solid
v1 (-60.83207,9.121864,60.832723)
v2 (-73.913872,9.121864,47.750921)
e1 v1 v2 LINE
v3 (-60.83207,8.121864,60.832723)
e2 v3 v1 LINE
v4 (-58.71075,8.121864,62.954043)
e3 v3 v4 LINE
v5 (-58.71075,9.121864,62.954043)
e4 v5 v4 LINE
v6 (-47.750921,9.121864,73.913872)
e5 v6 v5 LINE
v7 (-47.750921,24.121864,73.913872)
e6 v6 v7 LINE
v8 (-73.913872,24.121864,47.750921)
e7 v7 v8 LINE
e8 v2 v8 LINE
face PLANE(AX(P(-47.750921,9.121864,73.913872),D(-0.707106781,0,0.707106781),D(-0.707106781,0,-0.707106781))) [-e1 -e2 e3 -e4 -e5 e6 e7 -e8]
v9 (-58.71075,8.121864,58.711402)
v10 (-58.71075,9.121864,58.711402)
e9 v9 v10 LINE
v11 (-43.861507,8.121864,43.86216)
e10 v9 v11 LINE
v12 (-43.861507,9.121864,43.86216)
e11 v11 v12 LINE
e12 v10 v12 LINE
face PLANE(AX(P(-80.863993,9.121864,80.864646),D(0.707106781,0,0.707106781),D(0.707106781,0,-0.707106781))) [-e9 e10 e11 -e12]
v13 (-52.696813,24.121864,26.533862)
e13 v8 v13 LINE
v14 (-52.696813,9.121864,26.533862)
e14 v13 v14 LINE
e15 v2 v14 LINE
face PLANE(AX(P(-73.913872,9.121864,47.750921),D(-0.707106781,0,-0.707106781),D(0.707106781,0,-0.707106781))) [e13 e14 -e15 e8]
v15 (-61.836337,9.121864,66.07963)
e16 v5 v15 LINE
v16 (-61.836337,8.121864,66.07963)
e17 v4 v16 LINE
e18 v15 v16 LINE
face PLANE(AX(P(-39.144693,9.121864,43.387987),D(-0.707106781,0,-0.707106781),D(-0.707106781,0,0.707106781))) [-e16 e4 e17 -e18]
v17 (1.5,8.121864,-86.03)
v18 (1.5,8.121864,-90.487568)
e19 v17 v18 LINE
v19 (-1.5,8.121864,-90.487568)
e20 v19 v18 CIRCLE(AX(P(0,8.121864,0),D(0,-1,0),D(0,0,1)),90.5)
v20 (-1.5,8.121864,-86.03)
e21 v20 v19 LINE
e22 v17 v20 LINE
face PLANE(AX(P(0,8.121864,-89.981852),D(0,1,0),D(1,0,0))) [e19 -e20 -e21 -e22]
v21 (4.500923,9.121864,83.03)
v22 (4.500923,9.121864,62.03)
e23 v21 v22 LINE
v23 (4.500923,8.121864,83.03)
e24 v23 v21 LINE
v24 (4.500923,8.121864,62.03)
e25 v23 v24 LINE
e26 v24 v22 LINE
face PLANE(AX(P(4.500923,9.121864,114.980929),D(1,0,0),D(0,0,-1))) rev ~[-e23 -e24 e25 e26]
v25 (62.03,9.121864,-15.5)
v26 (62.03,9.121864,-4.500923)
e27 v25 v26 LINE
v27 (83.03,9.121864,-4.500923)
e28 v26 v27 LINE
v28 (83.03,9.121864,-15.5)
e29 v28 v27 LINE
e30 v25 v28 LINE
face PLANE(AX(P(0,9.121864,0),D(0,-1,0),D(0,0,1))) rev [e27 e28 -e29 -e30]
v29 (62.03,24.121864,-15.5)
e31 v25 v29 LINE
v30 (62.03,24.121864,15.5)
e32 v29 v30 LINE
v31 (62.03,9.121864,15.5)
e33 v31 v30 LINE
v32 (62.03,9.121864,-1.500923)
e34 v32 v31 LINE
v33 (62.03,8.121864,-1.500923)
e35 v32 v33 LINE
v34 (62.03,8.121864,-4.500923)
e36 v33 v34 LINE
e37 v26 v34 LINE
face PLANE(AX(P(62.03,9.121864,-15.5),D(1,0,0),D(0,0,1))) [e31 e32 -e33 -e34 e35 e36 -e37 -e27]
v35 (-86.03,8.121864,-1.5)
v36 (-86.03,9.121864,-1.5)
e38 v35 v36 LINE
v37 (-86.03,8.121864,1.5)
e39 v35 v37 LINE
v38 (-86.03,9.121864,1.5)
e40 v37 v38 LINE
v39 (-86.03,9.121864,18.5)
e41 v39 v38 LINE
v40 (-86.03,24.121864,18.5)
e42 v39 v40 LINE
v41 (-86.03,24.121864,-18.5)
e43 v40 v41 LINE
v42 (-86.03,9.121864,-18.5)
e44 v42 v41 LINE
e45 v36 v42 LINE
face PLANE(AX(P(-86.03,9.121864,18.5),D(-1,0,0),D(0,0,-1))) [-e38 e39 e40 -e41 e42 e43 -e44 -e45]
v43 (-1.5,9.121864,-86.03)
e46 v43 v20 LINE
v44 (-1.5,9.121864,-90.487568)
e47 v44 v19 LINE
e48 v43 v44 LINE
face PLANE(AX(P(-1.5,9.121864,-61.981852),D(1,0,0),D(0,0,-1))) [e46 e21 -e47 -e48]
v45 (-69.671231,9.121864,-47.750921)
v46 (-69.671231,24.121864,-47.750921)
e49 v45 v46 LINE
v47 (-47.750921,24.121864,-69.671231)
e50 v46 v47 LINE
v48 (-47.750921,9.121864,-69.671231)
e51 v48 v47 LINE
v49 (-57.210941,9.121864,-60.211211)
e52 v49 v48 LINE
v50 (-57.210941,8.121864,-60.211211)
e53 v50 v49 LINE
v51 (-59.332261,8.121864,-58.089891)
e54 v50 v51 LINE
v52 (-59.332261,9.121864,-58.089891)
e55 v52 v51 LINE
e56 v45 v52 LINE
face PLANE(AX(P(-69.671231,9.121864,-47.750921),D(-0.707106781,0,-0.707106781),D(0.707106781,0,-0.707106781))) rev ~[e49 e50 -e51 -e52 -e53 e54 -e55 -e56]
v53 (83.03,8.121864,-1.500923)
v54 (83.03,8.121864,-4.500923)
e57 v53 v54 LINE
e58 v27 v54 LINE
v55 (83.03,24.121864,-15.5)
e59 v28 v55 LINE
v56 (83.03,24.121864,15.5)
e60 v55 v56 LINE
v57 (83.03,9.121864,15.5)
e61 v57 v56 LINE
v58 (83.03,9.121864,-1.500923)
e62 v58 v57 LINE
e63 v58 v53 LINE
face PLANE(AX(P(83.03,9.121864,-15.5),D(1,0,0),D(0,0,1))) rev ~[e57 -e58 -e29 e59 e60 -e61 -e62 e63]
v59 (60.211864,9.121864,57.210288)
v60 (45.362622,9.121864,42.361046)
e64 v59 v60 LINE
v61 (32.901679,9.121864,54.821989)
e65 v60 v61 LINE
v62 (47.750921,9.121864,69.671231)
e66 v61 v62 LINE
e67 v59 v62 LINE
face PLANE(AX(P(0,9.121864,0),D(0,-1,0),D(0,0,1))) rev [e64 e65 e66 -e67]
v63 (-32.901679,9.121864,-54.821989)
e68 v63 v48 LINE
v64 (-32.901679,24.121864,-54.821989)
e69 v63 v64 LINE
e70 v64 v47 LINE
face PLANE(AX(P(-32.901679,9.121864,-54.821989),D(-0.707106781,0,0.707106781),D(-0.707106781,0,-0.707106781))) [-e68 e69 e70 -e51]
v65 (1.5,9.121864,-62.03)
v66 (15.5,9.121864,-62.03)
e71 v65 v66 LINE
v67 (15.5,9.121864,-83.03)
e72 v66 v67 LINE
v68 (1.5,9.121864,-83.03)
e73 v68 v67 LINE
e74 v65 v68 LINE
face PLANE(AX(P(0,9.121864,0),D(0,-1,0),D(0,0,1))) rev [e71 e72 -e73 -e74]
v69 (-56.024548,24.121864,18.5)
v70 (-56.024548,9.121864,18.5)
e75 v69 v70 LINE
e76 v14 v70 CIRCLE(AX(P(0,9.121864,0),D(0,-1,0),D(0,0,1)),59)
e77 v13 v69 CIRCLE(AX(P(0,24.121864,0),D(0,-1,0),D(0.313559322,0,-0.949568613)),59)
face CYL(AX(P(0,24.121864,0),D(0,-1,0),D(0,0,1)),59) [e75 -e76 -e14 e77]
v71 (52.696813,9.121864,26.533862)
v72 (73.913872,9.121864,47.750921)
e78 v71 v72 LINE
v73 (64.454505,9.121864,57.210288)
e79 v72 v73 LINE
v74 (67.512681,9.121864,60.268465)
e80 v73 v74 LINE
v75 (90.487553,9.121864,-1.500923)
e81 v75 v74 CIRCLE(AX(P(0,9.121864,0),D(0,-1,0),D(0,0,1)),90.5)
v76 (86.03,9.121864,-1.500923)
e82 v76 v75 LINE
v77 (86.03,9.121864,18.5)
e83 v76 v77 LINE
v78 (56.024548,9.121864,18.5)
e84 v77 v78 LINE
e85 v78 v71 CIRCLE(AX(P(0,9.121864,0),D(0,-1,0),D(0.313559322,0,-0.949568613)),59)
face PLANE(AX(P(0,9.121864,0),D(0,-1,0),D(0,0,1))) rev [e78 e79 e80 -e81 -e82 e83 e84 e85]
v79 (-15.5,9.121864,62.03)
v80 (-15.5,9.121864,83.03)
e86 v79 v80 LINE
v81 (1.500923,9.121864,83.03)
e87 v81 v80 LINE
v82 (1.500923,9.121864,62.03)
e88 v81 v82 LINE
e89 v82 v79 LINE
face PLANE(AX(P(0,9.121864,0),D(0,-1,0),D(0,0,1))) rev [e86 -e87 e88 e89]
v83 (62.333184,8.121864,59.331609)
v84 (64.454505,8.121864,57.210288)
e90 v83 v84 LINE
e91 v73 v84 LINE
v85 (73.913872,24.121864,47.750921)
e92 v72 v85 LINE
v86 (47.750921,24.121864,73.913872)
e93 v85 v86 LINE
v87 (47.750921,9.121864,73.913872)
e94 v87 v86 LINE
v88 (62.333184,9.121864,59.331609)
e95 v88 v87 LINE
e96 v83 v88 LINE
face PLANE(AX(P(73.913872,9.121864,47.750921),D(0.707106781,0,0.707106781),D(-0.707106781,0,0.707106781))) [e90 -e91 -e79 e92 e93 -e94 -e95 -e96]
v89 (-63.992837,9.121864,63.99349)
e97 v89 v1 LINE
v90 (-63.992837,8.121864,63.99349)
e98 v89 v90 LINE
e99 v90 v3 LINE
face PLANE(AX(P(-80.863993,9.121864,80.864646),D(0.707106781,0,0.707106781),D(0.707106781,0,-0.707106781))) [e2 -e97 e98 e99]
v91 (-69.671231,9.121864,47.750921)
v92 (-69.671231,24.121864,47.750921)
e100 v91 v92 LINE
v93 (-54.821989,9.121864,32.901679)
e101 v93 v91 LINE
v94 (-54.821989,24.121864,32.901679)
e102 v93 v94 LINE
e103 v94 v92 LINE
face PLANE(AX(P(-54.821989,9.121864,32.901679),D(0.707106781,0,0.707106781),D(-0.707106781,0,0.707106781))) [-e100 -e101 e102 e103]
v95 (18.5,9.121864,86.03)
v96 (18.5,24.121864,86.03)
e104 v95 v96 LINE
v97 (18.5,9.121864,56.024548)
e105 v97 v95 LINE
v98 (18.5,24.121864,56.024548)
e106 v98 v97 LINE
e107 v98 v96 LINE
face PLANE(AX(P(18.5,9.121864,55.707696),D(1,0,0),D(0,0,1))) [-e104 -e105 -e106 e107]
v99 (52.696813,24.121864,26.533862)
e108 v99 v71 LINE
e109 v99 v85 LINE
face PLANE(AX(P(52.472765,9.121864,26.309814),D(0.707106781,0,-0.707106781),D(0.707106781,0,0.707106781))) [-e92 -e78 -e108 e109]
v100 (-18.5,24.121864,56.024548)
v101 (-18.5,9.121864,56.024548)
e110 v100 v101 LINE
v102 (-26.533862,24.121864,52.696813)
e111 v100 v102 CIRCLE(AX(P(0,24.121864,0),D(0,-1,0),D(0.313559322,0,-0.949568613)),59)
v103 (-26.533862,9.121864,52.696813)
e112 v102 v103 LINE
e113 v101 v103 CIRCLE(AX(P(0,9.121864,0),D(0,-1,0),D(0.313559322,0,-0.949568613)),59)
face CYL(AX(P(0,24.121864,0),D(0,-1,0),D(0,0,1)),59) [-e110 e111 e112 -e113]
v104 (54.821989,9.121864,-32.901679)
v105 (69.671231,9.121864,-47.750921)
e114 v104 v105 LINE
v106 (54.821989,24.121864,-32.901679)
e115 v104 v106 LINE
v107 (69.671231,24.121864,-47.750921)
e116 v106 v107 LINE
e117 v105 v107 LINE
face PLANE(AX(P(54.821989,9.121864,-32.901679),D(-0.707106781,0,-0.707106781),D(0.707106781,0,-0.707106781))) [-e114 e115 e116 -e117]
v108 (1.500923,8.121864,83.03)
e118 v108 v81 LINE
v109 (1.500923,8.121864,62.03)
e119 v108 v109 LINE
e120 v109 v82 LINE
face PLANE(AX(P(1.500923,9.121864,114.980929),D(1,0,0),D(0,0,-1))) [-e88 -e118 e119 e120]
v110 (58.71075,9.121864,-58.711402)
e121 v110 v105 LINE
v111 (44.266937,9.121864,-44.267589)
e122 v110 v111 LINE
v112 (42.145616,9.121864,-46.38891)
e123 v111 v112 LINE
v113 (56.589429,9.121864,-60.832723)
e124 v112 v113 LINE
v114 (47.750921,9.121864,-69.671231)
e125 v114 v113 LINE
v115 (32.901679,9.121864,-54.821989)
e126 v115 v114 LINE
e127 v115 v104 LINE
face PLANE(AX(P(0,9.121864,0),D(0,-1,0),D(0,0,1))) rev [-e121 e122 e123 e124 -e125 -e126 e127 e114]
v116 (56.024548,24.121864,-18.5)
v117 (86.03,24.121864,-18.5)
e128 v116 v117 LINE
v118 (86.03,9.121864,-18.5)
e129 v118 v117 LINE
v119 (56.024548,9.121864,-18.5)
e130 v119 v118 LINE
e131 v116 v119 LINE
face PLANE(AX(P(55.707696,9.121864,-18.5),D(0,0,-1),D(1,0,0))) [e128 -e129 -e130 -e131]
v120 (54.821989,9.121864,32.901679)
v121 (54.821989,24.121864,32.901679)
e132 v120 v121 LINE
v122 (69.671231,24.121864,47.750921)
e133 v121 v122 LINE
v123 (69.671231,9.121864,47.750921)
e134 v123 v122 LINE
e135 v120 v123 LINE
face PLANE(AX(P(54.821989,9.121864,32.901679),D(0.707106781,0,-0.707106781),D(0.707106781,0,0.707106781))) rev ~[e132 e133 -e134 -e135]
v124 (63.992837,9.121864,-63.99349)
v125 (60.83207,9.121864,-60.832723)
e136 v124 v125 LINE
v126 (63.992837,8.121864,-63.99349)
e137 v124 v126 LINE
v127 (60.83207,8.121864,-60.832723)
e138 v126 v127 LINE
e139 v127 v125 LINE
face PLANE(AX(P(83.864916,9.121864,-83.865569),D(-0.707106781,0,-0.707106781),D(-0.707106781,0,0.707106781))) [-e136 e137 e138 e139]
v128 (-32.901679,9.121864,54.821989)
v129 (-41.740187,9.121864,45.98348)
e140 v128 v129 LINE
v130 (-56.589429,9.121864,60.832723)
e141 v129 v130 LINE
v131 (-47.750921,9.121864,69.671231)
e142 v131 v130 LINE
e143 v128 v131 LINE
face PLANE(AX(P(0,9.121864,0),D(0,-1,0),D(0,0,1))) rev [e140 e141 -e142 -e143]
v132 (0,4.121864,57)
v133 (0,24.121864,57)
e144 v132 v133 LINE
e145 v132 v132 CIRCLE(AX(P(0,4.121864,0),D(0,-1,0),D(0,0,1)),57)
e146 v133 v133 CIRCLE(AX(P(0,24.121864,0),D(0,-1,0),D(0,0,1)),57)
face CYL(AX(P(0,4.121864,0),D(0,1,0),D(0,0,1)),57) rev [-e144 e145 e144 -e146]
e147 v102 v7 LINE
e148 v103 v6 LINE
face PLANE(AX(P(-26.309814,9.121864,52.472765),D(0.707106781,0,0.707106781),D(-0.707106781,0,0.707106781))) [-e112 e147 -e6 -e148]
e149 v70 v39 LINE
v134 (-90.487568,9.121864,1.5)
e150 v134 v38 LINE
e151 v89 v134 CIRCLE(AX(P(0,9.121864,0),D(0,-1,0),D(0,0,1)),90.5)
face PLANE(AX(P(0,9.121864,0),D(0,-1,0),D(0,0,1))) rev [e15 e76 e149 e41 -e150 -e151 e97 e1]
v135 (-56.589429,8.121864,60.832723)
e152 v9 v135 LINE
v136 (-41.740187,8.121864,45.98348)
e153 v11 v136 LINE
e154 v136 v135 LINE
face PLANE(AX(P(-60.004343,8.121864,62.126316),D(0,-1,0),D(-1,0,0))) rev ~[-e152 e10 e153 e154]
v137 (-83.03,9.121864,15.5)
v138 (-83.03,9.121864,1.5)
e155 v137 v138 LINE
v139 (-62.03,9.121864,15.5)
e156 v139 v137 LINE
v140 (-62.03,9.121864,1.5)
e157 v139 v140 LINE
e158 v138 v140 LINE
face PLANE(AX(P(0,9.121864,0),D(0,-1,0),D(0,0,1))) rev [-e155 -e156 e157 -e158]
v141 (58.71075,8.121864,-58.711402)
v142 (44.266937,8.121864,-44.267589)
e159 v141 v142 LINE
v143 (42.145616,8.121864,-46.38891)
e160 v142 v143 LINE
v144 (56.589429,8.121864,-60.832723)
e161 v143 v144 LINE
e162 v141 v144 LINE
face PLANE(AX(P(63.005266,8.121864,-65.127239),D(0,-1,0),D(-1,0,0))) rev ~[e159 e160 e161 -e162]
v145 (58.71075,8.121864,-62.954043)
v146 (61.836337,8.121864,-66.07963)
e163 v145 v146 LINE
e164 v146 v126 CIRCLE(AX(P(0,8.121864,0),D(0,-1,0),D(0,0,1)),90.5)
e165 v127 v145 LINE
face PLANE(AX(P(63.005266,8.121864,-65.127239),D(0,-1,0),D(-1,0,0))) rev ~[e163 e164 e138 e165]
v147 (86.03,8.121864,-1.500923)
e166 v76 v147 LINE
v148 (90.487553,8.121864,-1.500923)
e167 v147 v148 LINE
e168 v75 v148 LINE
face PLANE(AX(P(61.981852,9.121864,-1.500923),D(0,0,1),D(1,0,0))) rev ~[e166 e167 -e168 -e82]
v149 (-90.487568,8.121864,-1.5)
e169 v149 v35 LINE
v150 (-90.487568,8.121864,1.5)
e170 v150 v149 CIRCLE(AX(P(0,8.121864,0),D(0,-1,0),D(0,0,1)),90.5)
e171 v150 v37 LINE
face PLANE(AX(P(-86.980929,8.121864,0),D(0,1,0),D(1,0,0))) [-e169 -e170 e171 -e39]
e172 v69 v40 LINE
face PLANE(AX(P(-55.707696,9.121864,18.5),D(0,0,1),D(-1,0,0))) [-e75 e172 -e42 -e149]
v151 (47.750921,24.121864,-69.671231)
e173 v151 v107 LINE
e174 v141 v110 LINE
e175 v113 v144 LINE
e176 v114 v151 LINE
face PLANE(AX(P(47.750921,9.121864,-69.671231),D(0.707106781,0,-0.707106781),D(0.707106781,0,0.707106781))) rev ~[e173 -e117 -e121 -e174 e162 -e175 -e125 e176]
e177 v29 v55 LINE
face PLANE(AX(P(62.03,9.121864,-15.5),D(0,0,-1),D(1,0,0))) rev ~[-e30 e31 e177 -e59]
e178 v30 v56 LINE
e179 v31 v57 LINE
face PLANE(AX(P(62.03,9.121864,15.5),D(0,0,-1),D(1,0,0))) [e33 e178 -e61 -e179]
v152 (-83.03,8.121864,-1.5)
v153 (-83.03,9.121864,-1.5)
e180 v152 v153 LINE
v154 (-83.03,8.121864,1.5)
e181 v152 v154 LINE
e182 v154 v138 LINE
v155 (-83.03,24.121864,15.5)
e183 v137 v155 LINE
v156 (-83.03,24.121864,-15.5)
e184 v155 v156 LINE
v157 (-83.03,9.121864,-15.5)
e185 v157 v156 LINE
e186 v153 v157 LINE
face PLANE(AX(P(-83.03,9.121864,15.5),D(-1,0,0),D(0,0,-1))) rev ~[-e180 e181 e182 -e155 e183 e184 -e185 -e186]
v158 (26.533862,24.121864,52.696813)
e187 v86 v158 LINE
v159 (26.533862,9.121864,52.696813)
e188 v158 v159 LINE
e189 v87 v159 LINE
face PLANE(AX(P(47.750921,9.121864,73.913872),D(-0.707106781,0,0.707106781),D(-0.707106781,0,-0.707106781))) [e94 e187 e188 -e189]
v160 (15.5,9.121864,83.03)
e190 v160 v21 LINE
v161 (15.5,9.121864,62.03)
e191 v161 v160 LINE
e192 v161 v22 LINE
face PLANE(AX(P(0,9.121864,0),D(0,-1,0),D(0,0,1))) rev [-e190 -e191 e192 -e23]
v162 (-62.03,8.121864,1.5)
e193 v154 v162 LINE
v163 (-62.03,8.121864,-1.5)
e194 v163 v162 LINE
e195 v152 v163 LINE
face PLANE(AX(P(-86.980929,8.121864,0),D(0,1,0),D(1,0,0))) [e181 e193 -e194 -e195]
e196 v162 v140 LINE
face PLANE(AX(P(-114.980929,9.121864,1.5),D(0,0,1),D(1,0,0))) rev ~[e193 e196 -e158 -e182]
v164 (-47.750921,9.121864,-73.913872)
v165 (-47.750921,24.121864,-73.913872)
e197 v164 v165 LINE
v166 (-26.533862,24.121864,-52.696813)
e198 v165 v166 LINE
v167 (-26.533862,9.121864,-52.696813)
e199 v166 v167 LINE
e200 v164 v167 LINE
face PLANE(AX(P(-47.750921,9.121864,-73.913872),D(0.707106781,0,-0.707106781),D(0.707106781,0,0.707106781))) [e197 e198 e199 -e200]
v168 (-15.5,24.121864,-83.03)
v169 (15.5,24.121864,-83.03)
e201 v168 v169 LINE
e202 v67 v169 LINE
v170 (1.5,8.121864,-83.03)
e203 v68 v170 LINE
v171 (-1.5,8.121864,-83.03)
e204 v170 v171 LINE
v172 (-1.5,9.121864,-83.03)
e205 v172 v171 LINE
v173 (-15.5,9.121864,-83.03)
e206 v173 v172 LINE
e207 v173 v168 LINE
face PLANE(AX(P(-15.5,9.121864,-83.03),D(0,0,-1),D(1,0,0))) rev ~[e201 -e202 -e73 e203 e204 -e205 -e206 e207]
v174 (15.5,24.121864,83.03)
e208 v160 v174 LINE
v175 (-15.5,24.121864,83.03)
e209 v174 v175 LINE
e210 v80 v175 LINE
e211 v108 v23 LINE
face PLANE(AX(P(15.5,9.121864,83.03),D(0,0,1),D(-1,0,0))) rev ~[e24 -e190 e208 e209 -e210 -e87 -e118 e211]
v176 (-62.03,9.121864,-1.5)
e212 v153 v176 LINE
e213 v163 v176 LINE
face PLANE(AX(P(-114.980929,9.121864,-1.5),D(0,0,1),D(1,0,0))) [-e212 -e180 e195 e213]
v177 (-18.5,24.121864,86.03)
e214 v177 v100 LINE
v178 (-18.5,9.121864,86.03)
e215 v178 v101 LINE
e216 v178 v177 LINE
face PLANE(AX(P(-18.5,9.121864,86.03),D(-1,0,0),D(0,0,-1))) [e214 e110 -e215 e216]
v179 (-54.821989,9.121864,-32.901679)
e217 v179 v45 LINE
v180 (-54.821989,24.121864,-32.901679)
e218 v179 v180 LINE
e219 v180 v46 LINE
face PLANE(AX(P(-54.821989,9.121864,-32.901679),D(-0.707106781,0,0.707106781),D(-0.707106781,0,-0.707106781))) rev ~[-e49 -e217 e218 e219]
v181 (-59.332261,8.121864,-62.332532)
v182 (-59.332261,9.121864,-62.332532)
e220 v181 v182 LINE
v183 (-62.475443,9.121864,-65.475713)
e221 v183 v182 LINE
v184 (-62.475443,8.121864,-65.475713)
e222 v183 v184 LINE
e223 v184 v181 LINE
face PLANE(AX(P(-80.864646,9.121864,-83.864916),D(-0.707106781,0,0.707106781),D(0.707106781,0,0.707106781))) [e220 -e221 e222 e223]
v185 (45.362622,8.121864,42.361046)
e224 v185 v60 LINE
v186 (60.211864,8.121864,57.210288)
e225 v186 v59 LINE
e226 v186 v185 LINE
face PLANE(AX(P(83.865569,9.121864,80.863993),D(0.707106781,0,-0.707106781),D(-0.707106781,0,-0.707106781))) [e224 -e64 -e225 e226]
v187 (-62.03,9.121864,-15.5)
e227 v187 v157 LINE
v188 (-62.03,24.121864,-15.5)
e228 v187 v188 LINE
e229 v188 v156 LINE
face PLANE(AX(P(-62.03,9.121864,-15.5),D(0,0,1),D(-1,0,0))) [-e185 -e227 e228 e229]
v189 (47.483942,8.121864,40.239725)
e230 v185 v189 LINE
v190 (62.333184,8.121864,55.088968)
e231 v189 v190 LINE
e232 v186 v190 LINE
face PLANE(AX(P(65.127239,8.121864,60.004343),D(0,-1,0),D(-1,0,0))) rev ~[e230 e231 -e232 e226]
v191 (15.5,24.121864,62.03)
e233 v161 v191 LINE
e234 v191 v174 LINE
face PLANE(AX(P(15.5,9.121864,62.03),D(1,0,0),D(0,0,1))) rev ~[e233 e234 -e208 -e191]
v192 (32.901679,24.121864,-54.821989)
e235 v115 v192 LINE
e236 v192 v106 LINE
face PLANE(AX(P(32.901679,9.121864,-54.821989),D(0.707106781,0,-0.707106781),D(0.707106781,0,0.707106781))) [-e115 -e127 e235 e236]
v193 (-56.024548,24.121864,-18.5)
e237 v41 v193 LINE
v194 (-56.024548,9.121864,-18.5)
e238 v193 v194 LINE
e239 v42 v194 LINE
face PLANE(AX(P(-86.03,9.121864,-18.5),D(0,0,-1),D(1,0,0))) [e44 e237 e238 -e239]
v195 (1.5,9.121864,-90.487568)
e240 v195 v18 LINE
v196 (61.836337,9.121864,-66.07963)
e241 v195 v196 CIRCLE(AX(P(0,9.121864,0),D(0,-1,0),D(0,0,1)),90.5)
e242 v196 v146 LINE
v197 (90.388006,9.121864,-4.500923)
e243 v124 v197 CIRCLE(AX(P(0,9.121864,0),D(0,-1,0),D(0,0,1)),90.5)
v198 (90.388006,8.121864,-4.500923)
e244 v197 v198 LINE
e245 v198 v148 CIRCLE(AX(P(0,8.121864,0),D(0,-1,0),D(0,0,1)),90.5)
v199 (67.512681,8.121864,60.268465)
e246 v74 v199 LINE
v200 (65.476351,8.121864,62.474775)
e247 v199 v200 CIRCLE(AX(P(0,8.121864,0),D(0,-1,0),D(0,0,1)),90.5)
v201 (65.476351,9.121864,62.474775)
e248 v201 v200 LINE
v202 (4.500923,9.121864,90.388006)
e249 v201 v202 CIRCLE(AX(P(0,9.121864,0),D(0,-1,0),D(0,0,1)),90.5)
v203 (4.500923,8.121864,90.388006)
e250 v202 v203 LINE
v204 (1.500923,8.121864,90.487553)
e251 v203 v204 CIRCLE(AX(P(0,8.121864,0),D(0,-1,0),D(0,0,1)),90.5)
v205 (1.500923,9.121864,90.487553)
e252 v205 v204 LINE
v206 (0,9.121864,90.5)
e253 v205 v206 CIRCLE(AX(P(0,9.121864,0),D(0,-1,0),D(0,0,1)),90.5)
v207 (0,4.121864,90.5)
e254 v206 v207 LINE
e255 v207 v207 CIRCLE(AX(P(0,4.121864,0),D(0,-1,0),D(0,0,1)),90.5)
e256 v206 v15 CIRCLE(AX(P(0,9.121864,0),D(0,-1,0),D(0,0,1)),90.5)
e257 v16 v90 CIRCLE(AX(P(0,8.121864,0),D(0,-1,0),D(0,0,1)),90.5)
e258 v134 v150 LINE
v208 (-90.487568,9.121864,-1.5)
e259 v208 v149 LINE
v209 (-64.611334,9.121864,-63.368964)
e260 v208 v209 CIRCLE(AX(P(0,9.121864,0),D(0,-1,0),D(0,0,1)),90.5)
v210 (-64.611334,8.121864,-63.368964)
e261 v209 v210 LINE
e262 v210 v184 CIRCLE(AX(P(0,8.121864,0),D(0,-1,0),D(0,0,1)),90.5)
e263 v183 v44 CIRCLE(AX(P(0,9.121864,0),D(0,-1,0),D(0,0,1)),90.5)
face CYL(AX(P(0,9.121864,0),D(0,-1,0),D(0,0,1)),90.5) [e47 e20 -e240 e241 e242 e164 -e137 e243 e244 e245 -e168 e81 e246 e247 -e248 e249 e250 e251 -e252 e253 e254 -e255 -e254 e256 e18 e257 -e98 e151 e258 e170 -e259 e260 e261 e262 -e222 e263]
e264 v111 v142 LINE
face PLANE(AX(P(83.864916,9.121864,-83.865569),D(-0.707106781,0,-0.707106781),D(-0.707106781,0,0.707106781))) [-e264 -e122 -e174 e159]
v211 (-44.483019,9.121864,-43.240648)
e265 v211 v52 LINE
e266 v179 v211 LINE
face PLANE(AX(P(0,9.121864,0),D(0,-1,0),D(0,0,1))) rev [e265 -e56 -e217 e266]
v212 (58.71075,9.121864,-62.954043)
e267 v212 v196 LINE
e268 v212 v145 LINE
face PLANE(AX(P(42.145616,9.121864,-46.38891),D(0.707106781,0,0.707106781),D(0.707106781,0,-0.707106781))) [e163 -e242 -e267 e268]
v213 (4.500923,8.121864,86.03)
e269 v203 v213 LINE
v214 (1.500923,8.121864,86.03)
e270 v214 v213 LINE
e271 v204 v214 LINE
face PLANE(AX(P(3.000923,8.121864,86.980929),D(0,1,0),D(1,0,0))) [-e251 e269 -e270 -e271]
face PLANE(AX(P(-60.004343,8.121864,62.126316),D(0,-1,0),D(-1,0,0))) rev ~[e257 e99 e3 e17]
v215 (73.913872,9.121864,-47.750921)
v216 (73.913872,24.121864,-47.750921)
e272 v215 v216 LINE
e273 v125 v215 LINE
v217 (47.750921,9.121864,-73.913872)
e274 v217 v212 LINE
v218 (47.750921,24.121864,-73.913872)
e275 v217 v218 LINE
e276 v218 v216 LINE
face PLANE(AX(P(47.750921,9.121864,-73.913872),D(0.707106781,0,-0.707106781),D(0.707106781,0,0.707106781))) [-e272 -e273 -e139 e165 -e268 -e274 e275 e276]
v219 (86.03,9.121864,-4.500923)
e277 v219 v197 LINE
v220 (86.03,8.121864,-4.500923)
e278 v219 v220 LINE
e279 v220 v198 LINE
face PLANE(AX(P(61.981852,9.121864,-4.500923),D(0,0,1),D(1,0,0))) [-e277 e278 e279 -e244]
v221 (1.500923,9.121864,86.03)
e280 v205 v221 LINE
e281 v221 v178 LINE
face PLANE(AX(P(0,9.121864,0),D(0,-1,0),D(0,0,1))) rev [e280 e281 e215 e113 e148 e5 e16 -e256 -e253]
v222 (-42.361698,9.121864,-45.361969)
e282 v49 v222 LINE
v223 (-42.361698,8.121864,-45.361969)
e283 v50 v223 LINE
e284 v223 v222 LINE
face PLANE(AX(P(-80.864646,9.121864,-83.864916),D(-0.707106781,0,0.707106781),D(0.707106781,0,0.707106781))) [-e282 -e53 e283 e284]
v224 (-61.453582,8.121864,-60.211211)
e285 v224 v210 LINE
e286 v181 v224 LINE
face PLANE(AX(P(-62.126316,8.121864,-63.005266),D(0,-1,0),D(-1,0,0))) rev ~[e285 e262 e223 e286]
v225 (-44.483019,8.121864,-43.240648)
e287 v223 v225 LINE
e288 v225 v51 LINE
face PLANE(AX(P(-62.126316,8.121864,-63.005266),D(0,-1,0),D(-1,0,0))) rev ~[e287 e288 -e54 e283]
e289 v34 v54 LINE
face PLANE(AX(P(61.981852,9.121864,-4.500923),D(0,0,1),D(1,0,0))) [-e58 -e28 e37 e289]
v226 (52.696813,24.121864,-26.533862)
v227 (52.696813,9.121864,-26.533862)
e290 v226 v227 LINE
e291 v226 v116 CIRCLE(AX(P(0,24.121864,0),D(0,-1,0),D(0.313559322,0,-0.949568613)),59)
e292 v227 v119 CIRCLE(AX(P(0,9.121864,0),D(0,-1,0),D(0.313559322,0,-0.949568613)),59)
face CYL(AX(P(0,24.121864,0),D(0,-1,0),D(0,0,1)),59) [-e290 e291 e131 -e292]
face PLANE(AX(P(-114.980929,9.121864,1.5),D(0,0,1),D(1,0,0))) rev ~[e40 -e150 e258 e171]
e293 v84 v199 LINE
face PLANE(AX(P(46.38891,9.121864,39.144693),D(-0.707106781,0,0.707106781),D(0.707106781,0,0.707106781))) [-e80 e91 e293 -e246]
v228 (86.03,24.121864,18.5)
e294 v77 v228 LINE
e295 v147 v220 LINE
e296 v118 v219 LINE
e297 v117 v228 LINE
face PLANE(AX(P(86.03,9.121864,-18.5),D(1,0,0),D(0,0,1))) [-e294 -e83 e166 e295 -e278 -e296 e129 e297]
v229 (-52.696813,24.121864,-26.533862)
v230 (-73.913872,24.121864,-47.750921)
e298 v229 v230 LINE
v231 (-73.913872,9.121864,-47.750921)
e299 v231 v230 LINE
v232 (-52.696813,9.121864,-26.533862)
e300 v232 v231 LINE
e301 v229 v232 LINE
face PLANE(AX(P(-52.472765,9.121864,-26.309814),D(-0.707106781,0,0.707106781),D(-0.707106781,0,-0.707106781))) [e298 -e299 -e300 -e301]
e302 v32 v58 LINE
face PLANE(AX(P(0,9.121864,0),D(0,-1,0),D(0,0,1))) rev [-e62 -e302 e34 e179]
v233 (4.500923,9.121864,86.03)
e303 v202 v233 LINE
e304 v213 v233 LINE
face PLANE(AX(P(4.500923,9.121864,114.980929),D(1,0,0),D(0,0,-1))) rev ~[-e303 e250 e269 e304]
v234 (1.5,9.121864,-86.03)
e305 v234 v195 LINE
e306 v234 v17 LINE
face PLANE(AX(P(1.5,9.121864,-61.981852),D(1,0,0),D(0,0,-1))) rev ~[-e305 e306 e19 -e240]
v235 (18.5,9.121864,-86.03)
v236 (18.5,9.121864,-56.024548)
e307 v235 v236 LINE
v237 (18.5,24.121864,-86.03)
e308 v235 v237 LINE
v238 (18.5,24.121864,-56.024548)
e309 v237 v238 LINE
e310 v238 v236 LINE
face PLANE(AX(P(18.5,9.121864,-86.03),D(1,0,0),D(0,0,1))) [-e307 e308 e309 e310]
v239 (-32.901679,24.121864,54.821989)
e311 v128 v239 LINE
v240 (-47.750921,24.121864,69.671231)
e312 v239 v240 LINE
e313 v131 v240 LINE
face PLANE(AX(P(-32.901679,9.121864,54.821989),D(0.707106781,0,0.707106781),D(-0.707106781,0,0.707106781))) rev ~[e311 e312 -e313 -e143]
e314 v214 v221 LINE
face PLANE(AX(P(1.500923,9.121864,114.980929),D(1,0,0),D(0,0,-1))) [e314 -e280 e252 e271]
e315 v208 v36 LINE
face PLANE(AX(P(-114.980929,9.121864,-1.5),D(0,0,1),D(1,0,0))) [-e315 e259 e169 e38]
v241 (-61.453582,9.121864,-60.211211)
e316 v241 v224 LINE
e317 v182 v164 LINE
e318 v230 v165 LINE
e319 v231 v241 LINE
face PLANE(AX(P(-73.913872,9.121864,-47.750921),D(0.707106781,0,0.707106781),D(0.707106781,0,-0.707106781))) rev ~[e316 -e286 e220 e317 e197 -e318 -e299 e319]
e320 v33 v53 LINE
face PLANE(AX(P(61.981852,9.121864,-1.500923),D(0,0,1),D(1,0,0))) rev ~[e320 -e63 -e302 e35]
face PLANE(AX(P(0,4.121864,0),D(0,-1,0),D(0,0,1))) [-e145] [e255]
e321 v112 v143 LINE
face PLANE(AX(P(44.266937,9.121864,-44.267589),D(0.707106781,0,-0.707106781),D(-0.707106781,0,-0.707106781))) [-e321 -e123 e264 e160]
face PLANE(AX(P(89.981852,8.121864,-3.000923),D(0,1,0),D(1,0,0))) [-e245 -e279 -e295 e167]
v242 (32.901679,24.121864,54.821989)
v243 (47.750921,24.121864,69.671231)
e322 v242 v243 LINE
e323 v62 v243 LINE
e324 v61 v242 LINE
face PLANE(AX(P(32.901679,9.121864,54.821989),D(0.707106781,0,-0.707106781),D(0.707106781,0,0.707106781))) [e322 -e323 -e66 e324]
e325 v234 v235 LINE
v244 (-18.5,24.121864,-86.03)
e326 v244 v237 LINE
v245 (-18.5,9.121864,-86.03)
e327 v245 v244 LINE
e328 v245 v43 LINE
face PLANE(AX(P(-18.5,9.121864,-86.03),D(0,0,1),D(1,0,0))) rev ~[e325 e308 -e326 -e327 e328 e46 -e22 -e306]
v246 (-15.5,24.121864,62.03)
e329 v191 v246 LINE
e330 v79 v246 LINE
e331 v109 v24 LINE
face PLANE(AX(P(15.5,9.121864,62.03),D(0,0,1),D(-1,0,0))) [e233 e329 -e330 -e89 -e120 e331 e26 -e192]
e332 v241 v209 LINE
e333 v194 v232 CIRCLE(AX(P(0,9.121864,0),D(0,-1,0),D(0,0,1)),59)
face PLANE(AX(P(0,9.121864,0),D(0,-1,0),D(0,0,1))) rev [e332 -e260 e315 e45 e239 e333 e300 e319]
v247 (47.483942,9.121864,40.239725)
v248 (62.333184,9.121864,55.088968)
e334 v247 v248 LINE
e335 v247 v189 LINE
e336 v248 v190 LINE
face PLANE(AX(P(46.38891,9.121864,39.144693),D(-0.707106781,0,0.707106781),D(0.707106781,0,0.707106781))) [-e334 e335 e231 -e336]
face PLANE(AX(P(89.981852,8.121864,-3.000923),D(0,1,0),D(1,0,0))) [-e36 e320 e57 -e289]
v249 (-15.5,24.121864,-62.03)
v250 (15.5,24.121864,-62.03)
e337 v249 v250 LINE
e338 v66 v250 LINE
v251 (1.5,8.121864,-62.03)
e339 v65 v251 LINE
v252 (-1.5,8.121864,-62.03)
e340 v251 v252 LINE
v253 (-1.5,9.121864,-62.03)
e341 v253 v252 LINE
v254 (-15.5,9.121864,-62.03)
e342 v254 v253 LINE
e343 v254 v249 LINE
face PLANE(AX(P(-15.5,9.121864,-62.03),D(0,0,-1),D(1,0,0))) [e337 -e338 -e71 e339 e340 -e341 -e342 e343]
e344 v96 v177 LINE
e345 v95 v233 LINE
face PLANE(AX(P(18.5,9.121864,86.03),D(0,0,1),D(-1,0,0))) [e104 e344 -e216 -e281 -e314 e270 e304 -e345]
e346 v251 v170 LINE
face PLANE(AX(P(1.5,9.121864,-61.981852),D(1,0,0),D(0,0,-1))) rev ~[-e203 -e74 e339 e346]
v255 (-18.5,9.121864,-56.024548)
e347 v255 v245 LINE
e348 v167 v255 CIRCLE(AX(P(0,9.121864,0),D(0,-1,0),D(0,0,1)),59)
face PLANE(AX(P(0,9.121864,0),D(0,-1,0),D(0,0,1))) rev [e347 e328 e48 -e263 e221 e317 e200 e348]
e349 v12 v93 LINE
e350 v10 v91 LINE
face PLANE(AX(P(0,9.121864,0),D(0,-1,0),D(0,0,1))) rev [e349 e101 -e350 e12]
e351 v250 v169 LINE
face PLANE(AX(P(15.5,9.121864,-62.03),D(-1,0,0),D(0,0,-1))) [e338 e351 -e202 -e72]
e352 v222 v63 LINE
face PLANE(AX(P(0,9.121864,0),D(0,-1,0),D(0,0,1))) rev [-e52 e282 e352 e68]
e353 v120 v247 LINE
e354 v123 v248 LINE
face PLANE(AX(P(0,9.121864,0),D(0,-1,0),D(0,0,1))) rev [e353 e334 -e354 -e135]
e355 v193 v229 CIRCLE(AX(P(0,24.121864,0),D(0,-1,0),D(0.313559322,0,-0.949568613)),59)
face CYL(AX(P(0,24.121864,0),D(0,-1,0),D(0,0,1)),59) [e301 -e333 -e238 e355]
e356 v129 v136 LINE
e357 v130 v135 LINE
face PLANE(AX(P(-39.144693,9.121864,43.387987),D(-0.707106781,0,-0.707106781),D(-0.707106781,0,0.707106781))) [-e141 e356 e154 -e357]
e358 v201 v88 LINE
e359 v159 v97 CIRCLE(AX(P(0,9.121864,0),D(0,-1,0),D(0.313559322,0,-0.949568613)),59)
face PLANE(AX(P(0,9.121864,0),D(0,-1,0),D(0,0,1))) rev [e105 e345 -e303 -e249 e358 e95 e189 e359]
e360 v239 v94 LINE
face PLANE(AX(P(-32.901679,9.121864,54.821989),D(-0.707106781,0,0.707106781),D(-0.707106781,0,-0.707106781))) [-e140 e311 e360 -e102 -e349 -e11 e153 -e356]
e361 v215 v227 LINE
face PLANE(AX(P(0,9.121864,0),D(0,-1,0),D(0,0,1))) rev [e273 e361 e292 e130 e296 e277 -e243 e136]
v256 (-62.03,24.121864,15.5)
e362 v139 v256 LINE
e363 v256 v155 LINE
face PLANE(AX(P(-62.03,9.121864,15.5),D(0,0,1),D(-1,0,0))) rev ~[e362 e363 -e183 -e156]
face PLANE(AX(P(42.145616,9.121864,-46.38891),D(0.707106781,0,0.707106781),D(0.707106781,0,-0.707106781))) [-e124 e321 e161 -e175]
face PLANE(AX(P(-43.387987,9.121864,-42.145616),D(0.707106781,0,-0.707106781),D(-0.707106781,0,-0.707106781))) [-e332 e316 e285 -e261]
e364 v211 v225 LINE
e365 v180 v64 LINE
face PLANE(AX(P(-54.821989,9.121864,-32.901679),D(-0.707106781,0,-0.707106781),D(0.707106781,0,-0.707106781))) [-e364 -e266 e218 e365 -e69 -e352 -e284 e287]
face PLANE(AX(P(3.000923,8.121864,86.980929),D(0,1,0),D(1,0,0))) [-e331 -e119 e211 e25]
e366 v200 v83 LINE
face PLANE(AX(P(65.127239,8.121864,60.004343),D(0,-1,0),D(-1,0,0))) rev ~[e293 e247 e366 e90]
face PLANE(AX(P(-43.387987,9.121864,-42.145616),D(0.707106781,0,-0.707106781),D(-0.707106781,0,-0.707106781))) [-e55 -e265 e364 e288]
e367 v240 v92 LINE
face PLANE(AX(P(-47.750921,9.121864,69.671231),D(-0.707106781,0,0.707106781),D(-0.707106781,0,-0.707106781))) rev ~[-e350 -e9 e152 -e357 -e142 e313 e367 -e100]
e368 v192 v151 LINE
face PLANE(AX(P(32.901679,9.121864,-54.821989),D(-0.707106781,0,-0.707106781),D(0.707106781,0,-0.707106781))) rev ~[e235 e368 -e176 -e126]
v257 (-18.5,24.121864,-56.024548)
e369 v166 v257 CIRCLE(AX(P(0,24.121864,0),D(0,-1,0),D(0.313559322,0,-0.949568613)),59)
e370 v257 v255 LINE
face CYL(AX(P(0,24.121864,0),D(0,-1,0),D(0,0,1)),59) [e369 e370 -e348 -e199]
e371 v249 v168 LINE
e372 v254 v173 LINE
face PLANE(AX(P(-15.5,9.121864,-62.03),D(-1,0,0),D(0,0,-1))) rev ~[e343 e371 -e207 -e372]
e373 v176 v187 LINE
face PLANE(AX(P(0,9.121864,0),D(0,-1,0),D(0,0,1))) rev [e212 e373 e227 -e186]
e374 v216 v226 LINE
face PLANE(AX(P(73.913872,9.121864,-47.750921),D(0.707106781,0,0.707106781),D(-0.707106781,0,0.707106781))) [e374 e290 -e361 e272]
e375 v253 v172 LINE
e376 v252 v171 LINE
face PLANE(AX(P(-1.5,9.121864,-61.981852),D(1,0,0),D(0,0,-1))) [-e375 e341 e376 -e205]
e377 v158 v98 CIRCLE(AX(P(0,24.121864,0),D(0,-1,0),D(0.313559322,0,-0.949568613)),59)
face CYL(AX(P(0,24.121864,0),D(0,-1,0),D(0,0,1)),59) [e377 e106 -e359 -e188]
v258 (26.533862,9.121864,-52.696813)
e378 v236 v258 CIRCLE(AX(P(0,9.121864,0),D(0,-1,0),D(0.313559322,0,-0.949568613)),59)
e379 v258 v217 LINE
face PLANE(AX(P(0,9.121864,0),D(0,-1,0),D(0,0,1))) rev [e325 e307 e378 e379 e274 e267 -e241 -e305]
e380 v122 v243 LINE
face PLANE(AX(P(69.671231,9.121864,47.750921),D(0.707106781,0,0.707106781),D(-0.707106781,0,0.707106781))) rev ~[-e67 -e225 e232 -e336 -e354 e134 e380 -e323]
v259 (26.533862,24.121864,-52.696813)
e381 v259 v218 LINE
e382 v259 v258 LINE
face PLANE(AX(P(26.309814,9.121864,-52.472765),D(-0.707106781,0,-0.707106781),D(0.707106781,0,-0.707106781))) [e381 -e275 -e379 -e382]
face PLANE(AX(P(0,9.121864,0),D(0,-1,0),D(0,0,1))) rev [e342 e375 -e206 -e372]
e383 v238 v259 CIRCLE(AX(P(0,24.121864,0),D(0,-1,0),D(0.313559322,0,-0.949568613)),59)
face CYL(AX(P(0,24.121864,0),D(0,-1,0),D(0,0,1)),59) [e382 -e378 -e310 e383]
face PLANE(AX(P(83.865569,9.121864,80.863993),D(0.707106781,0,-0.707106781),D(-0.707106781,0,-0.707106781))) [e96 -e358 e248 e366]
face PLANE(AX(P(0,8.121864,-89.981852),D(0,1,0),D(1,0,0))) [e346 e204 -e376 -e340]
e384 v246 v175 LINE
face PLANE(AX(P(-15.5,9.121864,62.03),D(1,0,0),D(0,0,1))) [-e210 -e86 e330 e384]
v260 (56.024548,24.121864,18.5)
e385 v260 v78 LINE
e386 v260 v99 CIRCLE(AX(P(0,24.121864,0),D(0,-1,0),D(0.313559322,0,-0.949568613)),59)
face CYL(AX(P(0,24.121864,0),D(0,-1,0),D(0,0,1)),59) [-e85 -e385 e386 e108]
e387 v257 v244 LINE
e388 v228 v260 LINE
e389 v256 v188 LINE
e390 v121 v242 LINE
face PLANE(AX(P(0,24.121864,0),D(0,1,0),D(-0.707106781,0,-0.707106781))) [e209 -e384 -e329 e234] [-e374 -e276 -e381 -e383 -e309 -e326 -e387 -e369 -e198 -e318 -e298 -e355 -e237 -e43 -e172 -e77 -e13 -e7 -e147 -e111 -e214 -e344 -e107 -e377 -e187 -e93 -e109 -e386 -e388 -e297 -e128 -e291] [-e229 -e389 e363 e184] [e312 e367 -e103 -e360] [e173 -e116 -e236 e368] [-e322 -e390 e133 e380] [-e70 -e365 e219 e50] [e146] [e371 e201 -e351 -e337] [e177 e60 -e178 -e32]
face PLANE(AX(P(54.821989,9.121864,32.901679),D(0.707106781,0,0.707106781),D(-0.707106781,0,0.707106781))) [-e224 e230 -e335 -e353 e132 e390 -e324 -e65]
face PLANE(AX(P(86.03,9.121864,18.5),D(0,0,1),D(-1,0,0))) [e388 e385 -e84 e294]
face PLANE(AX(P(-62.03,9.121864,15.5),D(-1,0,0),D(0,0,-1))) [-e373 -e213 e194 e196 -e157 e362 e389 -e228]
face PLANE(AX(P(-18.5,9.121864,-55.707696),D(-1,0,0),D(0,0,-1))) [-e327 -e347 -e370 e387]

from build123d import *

# Parameters (mm, degrees)
SKETCH3_W                       = 56
SKETCH3_H                       = 3
SKETCH3_W_2                     = 3
SKETCH3_H_2                     = 56
CUT_EXTRUDE1_DEPTH              = 1
BOSS_EXTRUDE1_REACH             = 130.862
SKETCH4_W                       = 31
SKETCH4_H                       = 21
BOSS_EXTRUDE1_DIRECTION_2_REACH = 130.862
CIRPATTERN1_COUNT               = 8


with BuildPart() as part:
    # Sketch2 → Revolve1 (revolve)
    with BuildSketch(Plane(origin=(0, 0, 0), x_dir=(0, 0, -1), z_dir=(1, 0, 0))):
        Polygon((-90.5, 4.121863799), (-57, 4.121863799), (-57, 6.121863799), (-57, 24.121863799), (-59, 24.121863799), (-59, 9.121863799), (-90.5, 9.121863799), align=None)
    revolve(axis=Axis((0, 80.23297491, 0), (0, -1, 0)))

    # Sketch3 → Cut-Extrude1 (cut)
    with BuildSketch(Plane(origin=(0, 9.121863799, 0), x_dir=(1, 0, 0), z_dir=(0, 1, 0))):
        with Locations((-86.980929121, 0)):
            Rectangle(SKETCH3_W, SKETCH3_H)
        Polygon((-82.985966376, 81.743596048), (-80.864646033, 83.864916391), (-41.266666286, 44.266936645), (-43.38798663, 42.145616301), align=None)
        with Locations((0, 89.981852183)):
            Rectangle(SKETCH3_W_2, SKETCH3_H_2)
        Polygon((81.743596048, 85.986889438), (83.864916391, 83.865569094), (44.266936645, 44.267589348), (42.145616301, 46.388909691), align=None)
        with Locations((89.981852183, 3.000923062)):
            Rectangle(SKETCH3_W, SKETCH3_H)
        Polygon((85.986889438, -78.742672986), (83.865569094, -80.86399333), (44.267589348, -41.266013583), (46.388909691, -39.14469324), align=None)
        with Locations((3.000923062, -86.980929121)):
            Rectangle(SKETCH3_W_2, SKETCH3_H_2)
        Polygon((-78.742672986, -82.985966376), (-80.86399333, -80.864646033), (-41.266013583, -41.266666286), (-39.14469324, -43.38798663), align=None)
    extrude(amount=-CUT_EXTRUDE1_DEPTH, mode=Mode.SUBTRACT)

    # Boss-Extrude1: up to this face of the body (flat: up to its plane)
    boss_extrude1_end = Plane(part.part.faces().sort_by_distance((0, 24.121863799, -58.668772004))[0])
    # Sketch4 → Boss-Extrude1 (add, up to the picked face)
    with BuildSketch(Plane(origin=(0, 9.121863799, 0), x_dir=(1, 0, 0), z_dir=(0, 1, 0)), mode=Mode.PRIVATE) as boss_extrude1_sk1:
        with BuildLine():
            Line((18.5, 86.03), (18.5, 59.03))
            Line((18.5, 59.03), (18.5, 55.707696119))
            ThreePointArc((18.5, 55.707696119), (0, 58.209424556), (-18.5, 55.707696119))
            Line((-18.5, 55.707696119), (-18.5, 59.03))
            Line((-18.5, 59.03), (-18.5, 86.03))
            Line((-18.5, 86.03), (18.5, 86.03))
        make_face()
        with Locations((0, 72.53)):
            Rectangle(SKETCH4_W, SKETCH4_H, mode=Mode.SUBTRACT)
    boss_extrude1_tool1 = split(extrude(boss_extrude1_sk1.sketch, amount=BOSS_EXTRUDE1_REACH, mode=Mode.PRIVATE), bisect_by=boss_extrude1_end, keep=Keep.BOTH, mode=Mode.PRIVATE)
    boss_extrude1 = boss_extrude1_tool1.solids().sort_by(Axis((18.021623, 9.121864, -72.53), (0, 1, 0)))[0]
    add(boss_extrude1)

    # Boss-Extrude1 direction 2: up to this face of the body (flat: up to its plane)
    boss_extrude1_direction_2_end = Plane(part.part.faces().sort_by_distance((-52.938409817, 8.121863799, -53.817117102))[0])
    # Sketch4 → Boss-Extrude1 direction 2 (add, up to the picked face)
    with BuildSketch(Plane(origin=(0, 9.121863799, 0), x_dir=(1, 0, 0), z_dir=(0, 1, 0)), mode=Mode.PRIVATE) as boss_extrude1_direction_2_sk1:
        with BuildLine():
            Line((18.5, 86.03), (18.5, 59.03))
            Line((18.5, 59.03), (18.5, 55.707696119))
            ThreePointArc((18.5, 55.707696119), (0, 58.209424556), (-18.5, 55.707696119))
            Line((-18.5, 55.707696119), (-18.5, 59.03))
            Line((-18.5, 59.03), (-18.5, 86.03))
            Line((-18.5, 86.03), (18.5, 86.03))
        make_face()
        with Locations((0, 72.53)):
            Rectangle(SKETCH4_W, SKETCH4_H, mode=Mode.SUBTRACT)
    boss_extrude1_direction_2_tool1 = split(extrude(boss_extrude1_direction_2_sk1.sketch, amount=-BOSS_EXTRUDE1_DIRECTION_2_REACH, mode=Mode.PRIVATE), bisect_by=boss_extrude1_direction_2_end, keep=Keep.BOTH, mode=Mode.PRIVATE)
    boss_extrude1_direction_2 = boss_extrude1_direction_2_tool1.solids().sort_by(Axis((18.021623, 9.121864, -72.53), (0, -1, 0)))[0]
    add(boss_extrude1_direction_2)

    # CirPattern1: Boss-Extrude1, Boss-Extrude1 direction 2 ×8 about axis
    cirpattern1_axis = Axis((0, 0, 0), (0, 1, 0))
    add([boss_extrude1.rotate(cirpattern1_axis, i * 360 / CIRPATTERN1_COUNT) for i in range(1, CIRPATTERN1_COUNT)])
    add([boss_extrude1_direction_2.rotate(cirpattern1_axis, i * 360 / CIRPATTERN1_COUNT) for i in range(1, CIRPATTERN1_COUNT)])


solid = part.part
